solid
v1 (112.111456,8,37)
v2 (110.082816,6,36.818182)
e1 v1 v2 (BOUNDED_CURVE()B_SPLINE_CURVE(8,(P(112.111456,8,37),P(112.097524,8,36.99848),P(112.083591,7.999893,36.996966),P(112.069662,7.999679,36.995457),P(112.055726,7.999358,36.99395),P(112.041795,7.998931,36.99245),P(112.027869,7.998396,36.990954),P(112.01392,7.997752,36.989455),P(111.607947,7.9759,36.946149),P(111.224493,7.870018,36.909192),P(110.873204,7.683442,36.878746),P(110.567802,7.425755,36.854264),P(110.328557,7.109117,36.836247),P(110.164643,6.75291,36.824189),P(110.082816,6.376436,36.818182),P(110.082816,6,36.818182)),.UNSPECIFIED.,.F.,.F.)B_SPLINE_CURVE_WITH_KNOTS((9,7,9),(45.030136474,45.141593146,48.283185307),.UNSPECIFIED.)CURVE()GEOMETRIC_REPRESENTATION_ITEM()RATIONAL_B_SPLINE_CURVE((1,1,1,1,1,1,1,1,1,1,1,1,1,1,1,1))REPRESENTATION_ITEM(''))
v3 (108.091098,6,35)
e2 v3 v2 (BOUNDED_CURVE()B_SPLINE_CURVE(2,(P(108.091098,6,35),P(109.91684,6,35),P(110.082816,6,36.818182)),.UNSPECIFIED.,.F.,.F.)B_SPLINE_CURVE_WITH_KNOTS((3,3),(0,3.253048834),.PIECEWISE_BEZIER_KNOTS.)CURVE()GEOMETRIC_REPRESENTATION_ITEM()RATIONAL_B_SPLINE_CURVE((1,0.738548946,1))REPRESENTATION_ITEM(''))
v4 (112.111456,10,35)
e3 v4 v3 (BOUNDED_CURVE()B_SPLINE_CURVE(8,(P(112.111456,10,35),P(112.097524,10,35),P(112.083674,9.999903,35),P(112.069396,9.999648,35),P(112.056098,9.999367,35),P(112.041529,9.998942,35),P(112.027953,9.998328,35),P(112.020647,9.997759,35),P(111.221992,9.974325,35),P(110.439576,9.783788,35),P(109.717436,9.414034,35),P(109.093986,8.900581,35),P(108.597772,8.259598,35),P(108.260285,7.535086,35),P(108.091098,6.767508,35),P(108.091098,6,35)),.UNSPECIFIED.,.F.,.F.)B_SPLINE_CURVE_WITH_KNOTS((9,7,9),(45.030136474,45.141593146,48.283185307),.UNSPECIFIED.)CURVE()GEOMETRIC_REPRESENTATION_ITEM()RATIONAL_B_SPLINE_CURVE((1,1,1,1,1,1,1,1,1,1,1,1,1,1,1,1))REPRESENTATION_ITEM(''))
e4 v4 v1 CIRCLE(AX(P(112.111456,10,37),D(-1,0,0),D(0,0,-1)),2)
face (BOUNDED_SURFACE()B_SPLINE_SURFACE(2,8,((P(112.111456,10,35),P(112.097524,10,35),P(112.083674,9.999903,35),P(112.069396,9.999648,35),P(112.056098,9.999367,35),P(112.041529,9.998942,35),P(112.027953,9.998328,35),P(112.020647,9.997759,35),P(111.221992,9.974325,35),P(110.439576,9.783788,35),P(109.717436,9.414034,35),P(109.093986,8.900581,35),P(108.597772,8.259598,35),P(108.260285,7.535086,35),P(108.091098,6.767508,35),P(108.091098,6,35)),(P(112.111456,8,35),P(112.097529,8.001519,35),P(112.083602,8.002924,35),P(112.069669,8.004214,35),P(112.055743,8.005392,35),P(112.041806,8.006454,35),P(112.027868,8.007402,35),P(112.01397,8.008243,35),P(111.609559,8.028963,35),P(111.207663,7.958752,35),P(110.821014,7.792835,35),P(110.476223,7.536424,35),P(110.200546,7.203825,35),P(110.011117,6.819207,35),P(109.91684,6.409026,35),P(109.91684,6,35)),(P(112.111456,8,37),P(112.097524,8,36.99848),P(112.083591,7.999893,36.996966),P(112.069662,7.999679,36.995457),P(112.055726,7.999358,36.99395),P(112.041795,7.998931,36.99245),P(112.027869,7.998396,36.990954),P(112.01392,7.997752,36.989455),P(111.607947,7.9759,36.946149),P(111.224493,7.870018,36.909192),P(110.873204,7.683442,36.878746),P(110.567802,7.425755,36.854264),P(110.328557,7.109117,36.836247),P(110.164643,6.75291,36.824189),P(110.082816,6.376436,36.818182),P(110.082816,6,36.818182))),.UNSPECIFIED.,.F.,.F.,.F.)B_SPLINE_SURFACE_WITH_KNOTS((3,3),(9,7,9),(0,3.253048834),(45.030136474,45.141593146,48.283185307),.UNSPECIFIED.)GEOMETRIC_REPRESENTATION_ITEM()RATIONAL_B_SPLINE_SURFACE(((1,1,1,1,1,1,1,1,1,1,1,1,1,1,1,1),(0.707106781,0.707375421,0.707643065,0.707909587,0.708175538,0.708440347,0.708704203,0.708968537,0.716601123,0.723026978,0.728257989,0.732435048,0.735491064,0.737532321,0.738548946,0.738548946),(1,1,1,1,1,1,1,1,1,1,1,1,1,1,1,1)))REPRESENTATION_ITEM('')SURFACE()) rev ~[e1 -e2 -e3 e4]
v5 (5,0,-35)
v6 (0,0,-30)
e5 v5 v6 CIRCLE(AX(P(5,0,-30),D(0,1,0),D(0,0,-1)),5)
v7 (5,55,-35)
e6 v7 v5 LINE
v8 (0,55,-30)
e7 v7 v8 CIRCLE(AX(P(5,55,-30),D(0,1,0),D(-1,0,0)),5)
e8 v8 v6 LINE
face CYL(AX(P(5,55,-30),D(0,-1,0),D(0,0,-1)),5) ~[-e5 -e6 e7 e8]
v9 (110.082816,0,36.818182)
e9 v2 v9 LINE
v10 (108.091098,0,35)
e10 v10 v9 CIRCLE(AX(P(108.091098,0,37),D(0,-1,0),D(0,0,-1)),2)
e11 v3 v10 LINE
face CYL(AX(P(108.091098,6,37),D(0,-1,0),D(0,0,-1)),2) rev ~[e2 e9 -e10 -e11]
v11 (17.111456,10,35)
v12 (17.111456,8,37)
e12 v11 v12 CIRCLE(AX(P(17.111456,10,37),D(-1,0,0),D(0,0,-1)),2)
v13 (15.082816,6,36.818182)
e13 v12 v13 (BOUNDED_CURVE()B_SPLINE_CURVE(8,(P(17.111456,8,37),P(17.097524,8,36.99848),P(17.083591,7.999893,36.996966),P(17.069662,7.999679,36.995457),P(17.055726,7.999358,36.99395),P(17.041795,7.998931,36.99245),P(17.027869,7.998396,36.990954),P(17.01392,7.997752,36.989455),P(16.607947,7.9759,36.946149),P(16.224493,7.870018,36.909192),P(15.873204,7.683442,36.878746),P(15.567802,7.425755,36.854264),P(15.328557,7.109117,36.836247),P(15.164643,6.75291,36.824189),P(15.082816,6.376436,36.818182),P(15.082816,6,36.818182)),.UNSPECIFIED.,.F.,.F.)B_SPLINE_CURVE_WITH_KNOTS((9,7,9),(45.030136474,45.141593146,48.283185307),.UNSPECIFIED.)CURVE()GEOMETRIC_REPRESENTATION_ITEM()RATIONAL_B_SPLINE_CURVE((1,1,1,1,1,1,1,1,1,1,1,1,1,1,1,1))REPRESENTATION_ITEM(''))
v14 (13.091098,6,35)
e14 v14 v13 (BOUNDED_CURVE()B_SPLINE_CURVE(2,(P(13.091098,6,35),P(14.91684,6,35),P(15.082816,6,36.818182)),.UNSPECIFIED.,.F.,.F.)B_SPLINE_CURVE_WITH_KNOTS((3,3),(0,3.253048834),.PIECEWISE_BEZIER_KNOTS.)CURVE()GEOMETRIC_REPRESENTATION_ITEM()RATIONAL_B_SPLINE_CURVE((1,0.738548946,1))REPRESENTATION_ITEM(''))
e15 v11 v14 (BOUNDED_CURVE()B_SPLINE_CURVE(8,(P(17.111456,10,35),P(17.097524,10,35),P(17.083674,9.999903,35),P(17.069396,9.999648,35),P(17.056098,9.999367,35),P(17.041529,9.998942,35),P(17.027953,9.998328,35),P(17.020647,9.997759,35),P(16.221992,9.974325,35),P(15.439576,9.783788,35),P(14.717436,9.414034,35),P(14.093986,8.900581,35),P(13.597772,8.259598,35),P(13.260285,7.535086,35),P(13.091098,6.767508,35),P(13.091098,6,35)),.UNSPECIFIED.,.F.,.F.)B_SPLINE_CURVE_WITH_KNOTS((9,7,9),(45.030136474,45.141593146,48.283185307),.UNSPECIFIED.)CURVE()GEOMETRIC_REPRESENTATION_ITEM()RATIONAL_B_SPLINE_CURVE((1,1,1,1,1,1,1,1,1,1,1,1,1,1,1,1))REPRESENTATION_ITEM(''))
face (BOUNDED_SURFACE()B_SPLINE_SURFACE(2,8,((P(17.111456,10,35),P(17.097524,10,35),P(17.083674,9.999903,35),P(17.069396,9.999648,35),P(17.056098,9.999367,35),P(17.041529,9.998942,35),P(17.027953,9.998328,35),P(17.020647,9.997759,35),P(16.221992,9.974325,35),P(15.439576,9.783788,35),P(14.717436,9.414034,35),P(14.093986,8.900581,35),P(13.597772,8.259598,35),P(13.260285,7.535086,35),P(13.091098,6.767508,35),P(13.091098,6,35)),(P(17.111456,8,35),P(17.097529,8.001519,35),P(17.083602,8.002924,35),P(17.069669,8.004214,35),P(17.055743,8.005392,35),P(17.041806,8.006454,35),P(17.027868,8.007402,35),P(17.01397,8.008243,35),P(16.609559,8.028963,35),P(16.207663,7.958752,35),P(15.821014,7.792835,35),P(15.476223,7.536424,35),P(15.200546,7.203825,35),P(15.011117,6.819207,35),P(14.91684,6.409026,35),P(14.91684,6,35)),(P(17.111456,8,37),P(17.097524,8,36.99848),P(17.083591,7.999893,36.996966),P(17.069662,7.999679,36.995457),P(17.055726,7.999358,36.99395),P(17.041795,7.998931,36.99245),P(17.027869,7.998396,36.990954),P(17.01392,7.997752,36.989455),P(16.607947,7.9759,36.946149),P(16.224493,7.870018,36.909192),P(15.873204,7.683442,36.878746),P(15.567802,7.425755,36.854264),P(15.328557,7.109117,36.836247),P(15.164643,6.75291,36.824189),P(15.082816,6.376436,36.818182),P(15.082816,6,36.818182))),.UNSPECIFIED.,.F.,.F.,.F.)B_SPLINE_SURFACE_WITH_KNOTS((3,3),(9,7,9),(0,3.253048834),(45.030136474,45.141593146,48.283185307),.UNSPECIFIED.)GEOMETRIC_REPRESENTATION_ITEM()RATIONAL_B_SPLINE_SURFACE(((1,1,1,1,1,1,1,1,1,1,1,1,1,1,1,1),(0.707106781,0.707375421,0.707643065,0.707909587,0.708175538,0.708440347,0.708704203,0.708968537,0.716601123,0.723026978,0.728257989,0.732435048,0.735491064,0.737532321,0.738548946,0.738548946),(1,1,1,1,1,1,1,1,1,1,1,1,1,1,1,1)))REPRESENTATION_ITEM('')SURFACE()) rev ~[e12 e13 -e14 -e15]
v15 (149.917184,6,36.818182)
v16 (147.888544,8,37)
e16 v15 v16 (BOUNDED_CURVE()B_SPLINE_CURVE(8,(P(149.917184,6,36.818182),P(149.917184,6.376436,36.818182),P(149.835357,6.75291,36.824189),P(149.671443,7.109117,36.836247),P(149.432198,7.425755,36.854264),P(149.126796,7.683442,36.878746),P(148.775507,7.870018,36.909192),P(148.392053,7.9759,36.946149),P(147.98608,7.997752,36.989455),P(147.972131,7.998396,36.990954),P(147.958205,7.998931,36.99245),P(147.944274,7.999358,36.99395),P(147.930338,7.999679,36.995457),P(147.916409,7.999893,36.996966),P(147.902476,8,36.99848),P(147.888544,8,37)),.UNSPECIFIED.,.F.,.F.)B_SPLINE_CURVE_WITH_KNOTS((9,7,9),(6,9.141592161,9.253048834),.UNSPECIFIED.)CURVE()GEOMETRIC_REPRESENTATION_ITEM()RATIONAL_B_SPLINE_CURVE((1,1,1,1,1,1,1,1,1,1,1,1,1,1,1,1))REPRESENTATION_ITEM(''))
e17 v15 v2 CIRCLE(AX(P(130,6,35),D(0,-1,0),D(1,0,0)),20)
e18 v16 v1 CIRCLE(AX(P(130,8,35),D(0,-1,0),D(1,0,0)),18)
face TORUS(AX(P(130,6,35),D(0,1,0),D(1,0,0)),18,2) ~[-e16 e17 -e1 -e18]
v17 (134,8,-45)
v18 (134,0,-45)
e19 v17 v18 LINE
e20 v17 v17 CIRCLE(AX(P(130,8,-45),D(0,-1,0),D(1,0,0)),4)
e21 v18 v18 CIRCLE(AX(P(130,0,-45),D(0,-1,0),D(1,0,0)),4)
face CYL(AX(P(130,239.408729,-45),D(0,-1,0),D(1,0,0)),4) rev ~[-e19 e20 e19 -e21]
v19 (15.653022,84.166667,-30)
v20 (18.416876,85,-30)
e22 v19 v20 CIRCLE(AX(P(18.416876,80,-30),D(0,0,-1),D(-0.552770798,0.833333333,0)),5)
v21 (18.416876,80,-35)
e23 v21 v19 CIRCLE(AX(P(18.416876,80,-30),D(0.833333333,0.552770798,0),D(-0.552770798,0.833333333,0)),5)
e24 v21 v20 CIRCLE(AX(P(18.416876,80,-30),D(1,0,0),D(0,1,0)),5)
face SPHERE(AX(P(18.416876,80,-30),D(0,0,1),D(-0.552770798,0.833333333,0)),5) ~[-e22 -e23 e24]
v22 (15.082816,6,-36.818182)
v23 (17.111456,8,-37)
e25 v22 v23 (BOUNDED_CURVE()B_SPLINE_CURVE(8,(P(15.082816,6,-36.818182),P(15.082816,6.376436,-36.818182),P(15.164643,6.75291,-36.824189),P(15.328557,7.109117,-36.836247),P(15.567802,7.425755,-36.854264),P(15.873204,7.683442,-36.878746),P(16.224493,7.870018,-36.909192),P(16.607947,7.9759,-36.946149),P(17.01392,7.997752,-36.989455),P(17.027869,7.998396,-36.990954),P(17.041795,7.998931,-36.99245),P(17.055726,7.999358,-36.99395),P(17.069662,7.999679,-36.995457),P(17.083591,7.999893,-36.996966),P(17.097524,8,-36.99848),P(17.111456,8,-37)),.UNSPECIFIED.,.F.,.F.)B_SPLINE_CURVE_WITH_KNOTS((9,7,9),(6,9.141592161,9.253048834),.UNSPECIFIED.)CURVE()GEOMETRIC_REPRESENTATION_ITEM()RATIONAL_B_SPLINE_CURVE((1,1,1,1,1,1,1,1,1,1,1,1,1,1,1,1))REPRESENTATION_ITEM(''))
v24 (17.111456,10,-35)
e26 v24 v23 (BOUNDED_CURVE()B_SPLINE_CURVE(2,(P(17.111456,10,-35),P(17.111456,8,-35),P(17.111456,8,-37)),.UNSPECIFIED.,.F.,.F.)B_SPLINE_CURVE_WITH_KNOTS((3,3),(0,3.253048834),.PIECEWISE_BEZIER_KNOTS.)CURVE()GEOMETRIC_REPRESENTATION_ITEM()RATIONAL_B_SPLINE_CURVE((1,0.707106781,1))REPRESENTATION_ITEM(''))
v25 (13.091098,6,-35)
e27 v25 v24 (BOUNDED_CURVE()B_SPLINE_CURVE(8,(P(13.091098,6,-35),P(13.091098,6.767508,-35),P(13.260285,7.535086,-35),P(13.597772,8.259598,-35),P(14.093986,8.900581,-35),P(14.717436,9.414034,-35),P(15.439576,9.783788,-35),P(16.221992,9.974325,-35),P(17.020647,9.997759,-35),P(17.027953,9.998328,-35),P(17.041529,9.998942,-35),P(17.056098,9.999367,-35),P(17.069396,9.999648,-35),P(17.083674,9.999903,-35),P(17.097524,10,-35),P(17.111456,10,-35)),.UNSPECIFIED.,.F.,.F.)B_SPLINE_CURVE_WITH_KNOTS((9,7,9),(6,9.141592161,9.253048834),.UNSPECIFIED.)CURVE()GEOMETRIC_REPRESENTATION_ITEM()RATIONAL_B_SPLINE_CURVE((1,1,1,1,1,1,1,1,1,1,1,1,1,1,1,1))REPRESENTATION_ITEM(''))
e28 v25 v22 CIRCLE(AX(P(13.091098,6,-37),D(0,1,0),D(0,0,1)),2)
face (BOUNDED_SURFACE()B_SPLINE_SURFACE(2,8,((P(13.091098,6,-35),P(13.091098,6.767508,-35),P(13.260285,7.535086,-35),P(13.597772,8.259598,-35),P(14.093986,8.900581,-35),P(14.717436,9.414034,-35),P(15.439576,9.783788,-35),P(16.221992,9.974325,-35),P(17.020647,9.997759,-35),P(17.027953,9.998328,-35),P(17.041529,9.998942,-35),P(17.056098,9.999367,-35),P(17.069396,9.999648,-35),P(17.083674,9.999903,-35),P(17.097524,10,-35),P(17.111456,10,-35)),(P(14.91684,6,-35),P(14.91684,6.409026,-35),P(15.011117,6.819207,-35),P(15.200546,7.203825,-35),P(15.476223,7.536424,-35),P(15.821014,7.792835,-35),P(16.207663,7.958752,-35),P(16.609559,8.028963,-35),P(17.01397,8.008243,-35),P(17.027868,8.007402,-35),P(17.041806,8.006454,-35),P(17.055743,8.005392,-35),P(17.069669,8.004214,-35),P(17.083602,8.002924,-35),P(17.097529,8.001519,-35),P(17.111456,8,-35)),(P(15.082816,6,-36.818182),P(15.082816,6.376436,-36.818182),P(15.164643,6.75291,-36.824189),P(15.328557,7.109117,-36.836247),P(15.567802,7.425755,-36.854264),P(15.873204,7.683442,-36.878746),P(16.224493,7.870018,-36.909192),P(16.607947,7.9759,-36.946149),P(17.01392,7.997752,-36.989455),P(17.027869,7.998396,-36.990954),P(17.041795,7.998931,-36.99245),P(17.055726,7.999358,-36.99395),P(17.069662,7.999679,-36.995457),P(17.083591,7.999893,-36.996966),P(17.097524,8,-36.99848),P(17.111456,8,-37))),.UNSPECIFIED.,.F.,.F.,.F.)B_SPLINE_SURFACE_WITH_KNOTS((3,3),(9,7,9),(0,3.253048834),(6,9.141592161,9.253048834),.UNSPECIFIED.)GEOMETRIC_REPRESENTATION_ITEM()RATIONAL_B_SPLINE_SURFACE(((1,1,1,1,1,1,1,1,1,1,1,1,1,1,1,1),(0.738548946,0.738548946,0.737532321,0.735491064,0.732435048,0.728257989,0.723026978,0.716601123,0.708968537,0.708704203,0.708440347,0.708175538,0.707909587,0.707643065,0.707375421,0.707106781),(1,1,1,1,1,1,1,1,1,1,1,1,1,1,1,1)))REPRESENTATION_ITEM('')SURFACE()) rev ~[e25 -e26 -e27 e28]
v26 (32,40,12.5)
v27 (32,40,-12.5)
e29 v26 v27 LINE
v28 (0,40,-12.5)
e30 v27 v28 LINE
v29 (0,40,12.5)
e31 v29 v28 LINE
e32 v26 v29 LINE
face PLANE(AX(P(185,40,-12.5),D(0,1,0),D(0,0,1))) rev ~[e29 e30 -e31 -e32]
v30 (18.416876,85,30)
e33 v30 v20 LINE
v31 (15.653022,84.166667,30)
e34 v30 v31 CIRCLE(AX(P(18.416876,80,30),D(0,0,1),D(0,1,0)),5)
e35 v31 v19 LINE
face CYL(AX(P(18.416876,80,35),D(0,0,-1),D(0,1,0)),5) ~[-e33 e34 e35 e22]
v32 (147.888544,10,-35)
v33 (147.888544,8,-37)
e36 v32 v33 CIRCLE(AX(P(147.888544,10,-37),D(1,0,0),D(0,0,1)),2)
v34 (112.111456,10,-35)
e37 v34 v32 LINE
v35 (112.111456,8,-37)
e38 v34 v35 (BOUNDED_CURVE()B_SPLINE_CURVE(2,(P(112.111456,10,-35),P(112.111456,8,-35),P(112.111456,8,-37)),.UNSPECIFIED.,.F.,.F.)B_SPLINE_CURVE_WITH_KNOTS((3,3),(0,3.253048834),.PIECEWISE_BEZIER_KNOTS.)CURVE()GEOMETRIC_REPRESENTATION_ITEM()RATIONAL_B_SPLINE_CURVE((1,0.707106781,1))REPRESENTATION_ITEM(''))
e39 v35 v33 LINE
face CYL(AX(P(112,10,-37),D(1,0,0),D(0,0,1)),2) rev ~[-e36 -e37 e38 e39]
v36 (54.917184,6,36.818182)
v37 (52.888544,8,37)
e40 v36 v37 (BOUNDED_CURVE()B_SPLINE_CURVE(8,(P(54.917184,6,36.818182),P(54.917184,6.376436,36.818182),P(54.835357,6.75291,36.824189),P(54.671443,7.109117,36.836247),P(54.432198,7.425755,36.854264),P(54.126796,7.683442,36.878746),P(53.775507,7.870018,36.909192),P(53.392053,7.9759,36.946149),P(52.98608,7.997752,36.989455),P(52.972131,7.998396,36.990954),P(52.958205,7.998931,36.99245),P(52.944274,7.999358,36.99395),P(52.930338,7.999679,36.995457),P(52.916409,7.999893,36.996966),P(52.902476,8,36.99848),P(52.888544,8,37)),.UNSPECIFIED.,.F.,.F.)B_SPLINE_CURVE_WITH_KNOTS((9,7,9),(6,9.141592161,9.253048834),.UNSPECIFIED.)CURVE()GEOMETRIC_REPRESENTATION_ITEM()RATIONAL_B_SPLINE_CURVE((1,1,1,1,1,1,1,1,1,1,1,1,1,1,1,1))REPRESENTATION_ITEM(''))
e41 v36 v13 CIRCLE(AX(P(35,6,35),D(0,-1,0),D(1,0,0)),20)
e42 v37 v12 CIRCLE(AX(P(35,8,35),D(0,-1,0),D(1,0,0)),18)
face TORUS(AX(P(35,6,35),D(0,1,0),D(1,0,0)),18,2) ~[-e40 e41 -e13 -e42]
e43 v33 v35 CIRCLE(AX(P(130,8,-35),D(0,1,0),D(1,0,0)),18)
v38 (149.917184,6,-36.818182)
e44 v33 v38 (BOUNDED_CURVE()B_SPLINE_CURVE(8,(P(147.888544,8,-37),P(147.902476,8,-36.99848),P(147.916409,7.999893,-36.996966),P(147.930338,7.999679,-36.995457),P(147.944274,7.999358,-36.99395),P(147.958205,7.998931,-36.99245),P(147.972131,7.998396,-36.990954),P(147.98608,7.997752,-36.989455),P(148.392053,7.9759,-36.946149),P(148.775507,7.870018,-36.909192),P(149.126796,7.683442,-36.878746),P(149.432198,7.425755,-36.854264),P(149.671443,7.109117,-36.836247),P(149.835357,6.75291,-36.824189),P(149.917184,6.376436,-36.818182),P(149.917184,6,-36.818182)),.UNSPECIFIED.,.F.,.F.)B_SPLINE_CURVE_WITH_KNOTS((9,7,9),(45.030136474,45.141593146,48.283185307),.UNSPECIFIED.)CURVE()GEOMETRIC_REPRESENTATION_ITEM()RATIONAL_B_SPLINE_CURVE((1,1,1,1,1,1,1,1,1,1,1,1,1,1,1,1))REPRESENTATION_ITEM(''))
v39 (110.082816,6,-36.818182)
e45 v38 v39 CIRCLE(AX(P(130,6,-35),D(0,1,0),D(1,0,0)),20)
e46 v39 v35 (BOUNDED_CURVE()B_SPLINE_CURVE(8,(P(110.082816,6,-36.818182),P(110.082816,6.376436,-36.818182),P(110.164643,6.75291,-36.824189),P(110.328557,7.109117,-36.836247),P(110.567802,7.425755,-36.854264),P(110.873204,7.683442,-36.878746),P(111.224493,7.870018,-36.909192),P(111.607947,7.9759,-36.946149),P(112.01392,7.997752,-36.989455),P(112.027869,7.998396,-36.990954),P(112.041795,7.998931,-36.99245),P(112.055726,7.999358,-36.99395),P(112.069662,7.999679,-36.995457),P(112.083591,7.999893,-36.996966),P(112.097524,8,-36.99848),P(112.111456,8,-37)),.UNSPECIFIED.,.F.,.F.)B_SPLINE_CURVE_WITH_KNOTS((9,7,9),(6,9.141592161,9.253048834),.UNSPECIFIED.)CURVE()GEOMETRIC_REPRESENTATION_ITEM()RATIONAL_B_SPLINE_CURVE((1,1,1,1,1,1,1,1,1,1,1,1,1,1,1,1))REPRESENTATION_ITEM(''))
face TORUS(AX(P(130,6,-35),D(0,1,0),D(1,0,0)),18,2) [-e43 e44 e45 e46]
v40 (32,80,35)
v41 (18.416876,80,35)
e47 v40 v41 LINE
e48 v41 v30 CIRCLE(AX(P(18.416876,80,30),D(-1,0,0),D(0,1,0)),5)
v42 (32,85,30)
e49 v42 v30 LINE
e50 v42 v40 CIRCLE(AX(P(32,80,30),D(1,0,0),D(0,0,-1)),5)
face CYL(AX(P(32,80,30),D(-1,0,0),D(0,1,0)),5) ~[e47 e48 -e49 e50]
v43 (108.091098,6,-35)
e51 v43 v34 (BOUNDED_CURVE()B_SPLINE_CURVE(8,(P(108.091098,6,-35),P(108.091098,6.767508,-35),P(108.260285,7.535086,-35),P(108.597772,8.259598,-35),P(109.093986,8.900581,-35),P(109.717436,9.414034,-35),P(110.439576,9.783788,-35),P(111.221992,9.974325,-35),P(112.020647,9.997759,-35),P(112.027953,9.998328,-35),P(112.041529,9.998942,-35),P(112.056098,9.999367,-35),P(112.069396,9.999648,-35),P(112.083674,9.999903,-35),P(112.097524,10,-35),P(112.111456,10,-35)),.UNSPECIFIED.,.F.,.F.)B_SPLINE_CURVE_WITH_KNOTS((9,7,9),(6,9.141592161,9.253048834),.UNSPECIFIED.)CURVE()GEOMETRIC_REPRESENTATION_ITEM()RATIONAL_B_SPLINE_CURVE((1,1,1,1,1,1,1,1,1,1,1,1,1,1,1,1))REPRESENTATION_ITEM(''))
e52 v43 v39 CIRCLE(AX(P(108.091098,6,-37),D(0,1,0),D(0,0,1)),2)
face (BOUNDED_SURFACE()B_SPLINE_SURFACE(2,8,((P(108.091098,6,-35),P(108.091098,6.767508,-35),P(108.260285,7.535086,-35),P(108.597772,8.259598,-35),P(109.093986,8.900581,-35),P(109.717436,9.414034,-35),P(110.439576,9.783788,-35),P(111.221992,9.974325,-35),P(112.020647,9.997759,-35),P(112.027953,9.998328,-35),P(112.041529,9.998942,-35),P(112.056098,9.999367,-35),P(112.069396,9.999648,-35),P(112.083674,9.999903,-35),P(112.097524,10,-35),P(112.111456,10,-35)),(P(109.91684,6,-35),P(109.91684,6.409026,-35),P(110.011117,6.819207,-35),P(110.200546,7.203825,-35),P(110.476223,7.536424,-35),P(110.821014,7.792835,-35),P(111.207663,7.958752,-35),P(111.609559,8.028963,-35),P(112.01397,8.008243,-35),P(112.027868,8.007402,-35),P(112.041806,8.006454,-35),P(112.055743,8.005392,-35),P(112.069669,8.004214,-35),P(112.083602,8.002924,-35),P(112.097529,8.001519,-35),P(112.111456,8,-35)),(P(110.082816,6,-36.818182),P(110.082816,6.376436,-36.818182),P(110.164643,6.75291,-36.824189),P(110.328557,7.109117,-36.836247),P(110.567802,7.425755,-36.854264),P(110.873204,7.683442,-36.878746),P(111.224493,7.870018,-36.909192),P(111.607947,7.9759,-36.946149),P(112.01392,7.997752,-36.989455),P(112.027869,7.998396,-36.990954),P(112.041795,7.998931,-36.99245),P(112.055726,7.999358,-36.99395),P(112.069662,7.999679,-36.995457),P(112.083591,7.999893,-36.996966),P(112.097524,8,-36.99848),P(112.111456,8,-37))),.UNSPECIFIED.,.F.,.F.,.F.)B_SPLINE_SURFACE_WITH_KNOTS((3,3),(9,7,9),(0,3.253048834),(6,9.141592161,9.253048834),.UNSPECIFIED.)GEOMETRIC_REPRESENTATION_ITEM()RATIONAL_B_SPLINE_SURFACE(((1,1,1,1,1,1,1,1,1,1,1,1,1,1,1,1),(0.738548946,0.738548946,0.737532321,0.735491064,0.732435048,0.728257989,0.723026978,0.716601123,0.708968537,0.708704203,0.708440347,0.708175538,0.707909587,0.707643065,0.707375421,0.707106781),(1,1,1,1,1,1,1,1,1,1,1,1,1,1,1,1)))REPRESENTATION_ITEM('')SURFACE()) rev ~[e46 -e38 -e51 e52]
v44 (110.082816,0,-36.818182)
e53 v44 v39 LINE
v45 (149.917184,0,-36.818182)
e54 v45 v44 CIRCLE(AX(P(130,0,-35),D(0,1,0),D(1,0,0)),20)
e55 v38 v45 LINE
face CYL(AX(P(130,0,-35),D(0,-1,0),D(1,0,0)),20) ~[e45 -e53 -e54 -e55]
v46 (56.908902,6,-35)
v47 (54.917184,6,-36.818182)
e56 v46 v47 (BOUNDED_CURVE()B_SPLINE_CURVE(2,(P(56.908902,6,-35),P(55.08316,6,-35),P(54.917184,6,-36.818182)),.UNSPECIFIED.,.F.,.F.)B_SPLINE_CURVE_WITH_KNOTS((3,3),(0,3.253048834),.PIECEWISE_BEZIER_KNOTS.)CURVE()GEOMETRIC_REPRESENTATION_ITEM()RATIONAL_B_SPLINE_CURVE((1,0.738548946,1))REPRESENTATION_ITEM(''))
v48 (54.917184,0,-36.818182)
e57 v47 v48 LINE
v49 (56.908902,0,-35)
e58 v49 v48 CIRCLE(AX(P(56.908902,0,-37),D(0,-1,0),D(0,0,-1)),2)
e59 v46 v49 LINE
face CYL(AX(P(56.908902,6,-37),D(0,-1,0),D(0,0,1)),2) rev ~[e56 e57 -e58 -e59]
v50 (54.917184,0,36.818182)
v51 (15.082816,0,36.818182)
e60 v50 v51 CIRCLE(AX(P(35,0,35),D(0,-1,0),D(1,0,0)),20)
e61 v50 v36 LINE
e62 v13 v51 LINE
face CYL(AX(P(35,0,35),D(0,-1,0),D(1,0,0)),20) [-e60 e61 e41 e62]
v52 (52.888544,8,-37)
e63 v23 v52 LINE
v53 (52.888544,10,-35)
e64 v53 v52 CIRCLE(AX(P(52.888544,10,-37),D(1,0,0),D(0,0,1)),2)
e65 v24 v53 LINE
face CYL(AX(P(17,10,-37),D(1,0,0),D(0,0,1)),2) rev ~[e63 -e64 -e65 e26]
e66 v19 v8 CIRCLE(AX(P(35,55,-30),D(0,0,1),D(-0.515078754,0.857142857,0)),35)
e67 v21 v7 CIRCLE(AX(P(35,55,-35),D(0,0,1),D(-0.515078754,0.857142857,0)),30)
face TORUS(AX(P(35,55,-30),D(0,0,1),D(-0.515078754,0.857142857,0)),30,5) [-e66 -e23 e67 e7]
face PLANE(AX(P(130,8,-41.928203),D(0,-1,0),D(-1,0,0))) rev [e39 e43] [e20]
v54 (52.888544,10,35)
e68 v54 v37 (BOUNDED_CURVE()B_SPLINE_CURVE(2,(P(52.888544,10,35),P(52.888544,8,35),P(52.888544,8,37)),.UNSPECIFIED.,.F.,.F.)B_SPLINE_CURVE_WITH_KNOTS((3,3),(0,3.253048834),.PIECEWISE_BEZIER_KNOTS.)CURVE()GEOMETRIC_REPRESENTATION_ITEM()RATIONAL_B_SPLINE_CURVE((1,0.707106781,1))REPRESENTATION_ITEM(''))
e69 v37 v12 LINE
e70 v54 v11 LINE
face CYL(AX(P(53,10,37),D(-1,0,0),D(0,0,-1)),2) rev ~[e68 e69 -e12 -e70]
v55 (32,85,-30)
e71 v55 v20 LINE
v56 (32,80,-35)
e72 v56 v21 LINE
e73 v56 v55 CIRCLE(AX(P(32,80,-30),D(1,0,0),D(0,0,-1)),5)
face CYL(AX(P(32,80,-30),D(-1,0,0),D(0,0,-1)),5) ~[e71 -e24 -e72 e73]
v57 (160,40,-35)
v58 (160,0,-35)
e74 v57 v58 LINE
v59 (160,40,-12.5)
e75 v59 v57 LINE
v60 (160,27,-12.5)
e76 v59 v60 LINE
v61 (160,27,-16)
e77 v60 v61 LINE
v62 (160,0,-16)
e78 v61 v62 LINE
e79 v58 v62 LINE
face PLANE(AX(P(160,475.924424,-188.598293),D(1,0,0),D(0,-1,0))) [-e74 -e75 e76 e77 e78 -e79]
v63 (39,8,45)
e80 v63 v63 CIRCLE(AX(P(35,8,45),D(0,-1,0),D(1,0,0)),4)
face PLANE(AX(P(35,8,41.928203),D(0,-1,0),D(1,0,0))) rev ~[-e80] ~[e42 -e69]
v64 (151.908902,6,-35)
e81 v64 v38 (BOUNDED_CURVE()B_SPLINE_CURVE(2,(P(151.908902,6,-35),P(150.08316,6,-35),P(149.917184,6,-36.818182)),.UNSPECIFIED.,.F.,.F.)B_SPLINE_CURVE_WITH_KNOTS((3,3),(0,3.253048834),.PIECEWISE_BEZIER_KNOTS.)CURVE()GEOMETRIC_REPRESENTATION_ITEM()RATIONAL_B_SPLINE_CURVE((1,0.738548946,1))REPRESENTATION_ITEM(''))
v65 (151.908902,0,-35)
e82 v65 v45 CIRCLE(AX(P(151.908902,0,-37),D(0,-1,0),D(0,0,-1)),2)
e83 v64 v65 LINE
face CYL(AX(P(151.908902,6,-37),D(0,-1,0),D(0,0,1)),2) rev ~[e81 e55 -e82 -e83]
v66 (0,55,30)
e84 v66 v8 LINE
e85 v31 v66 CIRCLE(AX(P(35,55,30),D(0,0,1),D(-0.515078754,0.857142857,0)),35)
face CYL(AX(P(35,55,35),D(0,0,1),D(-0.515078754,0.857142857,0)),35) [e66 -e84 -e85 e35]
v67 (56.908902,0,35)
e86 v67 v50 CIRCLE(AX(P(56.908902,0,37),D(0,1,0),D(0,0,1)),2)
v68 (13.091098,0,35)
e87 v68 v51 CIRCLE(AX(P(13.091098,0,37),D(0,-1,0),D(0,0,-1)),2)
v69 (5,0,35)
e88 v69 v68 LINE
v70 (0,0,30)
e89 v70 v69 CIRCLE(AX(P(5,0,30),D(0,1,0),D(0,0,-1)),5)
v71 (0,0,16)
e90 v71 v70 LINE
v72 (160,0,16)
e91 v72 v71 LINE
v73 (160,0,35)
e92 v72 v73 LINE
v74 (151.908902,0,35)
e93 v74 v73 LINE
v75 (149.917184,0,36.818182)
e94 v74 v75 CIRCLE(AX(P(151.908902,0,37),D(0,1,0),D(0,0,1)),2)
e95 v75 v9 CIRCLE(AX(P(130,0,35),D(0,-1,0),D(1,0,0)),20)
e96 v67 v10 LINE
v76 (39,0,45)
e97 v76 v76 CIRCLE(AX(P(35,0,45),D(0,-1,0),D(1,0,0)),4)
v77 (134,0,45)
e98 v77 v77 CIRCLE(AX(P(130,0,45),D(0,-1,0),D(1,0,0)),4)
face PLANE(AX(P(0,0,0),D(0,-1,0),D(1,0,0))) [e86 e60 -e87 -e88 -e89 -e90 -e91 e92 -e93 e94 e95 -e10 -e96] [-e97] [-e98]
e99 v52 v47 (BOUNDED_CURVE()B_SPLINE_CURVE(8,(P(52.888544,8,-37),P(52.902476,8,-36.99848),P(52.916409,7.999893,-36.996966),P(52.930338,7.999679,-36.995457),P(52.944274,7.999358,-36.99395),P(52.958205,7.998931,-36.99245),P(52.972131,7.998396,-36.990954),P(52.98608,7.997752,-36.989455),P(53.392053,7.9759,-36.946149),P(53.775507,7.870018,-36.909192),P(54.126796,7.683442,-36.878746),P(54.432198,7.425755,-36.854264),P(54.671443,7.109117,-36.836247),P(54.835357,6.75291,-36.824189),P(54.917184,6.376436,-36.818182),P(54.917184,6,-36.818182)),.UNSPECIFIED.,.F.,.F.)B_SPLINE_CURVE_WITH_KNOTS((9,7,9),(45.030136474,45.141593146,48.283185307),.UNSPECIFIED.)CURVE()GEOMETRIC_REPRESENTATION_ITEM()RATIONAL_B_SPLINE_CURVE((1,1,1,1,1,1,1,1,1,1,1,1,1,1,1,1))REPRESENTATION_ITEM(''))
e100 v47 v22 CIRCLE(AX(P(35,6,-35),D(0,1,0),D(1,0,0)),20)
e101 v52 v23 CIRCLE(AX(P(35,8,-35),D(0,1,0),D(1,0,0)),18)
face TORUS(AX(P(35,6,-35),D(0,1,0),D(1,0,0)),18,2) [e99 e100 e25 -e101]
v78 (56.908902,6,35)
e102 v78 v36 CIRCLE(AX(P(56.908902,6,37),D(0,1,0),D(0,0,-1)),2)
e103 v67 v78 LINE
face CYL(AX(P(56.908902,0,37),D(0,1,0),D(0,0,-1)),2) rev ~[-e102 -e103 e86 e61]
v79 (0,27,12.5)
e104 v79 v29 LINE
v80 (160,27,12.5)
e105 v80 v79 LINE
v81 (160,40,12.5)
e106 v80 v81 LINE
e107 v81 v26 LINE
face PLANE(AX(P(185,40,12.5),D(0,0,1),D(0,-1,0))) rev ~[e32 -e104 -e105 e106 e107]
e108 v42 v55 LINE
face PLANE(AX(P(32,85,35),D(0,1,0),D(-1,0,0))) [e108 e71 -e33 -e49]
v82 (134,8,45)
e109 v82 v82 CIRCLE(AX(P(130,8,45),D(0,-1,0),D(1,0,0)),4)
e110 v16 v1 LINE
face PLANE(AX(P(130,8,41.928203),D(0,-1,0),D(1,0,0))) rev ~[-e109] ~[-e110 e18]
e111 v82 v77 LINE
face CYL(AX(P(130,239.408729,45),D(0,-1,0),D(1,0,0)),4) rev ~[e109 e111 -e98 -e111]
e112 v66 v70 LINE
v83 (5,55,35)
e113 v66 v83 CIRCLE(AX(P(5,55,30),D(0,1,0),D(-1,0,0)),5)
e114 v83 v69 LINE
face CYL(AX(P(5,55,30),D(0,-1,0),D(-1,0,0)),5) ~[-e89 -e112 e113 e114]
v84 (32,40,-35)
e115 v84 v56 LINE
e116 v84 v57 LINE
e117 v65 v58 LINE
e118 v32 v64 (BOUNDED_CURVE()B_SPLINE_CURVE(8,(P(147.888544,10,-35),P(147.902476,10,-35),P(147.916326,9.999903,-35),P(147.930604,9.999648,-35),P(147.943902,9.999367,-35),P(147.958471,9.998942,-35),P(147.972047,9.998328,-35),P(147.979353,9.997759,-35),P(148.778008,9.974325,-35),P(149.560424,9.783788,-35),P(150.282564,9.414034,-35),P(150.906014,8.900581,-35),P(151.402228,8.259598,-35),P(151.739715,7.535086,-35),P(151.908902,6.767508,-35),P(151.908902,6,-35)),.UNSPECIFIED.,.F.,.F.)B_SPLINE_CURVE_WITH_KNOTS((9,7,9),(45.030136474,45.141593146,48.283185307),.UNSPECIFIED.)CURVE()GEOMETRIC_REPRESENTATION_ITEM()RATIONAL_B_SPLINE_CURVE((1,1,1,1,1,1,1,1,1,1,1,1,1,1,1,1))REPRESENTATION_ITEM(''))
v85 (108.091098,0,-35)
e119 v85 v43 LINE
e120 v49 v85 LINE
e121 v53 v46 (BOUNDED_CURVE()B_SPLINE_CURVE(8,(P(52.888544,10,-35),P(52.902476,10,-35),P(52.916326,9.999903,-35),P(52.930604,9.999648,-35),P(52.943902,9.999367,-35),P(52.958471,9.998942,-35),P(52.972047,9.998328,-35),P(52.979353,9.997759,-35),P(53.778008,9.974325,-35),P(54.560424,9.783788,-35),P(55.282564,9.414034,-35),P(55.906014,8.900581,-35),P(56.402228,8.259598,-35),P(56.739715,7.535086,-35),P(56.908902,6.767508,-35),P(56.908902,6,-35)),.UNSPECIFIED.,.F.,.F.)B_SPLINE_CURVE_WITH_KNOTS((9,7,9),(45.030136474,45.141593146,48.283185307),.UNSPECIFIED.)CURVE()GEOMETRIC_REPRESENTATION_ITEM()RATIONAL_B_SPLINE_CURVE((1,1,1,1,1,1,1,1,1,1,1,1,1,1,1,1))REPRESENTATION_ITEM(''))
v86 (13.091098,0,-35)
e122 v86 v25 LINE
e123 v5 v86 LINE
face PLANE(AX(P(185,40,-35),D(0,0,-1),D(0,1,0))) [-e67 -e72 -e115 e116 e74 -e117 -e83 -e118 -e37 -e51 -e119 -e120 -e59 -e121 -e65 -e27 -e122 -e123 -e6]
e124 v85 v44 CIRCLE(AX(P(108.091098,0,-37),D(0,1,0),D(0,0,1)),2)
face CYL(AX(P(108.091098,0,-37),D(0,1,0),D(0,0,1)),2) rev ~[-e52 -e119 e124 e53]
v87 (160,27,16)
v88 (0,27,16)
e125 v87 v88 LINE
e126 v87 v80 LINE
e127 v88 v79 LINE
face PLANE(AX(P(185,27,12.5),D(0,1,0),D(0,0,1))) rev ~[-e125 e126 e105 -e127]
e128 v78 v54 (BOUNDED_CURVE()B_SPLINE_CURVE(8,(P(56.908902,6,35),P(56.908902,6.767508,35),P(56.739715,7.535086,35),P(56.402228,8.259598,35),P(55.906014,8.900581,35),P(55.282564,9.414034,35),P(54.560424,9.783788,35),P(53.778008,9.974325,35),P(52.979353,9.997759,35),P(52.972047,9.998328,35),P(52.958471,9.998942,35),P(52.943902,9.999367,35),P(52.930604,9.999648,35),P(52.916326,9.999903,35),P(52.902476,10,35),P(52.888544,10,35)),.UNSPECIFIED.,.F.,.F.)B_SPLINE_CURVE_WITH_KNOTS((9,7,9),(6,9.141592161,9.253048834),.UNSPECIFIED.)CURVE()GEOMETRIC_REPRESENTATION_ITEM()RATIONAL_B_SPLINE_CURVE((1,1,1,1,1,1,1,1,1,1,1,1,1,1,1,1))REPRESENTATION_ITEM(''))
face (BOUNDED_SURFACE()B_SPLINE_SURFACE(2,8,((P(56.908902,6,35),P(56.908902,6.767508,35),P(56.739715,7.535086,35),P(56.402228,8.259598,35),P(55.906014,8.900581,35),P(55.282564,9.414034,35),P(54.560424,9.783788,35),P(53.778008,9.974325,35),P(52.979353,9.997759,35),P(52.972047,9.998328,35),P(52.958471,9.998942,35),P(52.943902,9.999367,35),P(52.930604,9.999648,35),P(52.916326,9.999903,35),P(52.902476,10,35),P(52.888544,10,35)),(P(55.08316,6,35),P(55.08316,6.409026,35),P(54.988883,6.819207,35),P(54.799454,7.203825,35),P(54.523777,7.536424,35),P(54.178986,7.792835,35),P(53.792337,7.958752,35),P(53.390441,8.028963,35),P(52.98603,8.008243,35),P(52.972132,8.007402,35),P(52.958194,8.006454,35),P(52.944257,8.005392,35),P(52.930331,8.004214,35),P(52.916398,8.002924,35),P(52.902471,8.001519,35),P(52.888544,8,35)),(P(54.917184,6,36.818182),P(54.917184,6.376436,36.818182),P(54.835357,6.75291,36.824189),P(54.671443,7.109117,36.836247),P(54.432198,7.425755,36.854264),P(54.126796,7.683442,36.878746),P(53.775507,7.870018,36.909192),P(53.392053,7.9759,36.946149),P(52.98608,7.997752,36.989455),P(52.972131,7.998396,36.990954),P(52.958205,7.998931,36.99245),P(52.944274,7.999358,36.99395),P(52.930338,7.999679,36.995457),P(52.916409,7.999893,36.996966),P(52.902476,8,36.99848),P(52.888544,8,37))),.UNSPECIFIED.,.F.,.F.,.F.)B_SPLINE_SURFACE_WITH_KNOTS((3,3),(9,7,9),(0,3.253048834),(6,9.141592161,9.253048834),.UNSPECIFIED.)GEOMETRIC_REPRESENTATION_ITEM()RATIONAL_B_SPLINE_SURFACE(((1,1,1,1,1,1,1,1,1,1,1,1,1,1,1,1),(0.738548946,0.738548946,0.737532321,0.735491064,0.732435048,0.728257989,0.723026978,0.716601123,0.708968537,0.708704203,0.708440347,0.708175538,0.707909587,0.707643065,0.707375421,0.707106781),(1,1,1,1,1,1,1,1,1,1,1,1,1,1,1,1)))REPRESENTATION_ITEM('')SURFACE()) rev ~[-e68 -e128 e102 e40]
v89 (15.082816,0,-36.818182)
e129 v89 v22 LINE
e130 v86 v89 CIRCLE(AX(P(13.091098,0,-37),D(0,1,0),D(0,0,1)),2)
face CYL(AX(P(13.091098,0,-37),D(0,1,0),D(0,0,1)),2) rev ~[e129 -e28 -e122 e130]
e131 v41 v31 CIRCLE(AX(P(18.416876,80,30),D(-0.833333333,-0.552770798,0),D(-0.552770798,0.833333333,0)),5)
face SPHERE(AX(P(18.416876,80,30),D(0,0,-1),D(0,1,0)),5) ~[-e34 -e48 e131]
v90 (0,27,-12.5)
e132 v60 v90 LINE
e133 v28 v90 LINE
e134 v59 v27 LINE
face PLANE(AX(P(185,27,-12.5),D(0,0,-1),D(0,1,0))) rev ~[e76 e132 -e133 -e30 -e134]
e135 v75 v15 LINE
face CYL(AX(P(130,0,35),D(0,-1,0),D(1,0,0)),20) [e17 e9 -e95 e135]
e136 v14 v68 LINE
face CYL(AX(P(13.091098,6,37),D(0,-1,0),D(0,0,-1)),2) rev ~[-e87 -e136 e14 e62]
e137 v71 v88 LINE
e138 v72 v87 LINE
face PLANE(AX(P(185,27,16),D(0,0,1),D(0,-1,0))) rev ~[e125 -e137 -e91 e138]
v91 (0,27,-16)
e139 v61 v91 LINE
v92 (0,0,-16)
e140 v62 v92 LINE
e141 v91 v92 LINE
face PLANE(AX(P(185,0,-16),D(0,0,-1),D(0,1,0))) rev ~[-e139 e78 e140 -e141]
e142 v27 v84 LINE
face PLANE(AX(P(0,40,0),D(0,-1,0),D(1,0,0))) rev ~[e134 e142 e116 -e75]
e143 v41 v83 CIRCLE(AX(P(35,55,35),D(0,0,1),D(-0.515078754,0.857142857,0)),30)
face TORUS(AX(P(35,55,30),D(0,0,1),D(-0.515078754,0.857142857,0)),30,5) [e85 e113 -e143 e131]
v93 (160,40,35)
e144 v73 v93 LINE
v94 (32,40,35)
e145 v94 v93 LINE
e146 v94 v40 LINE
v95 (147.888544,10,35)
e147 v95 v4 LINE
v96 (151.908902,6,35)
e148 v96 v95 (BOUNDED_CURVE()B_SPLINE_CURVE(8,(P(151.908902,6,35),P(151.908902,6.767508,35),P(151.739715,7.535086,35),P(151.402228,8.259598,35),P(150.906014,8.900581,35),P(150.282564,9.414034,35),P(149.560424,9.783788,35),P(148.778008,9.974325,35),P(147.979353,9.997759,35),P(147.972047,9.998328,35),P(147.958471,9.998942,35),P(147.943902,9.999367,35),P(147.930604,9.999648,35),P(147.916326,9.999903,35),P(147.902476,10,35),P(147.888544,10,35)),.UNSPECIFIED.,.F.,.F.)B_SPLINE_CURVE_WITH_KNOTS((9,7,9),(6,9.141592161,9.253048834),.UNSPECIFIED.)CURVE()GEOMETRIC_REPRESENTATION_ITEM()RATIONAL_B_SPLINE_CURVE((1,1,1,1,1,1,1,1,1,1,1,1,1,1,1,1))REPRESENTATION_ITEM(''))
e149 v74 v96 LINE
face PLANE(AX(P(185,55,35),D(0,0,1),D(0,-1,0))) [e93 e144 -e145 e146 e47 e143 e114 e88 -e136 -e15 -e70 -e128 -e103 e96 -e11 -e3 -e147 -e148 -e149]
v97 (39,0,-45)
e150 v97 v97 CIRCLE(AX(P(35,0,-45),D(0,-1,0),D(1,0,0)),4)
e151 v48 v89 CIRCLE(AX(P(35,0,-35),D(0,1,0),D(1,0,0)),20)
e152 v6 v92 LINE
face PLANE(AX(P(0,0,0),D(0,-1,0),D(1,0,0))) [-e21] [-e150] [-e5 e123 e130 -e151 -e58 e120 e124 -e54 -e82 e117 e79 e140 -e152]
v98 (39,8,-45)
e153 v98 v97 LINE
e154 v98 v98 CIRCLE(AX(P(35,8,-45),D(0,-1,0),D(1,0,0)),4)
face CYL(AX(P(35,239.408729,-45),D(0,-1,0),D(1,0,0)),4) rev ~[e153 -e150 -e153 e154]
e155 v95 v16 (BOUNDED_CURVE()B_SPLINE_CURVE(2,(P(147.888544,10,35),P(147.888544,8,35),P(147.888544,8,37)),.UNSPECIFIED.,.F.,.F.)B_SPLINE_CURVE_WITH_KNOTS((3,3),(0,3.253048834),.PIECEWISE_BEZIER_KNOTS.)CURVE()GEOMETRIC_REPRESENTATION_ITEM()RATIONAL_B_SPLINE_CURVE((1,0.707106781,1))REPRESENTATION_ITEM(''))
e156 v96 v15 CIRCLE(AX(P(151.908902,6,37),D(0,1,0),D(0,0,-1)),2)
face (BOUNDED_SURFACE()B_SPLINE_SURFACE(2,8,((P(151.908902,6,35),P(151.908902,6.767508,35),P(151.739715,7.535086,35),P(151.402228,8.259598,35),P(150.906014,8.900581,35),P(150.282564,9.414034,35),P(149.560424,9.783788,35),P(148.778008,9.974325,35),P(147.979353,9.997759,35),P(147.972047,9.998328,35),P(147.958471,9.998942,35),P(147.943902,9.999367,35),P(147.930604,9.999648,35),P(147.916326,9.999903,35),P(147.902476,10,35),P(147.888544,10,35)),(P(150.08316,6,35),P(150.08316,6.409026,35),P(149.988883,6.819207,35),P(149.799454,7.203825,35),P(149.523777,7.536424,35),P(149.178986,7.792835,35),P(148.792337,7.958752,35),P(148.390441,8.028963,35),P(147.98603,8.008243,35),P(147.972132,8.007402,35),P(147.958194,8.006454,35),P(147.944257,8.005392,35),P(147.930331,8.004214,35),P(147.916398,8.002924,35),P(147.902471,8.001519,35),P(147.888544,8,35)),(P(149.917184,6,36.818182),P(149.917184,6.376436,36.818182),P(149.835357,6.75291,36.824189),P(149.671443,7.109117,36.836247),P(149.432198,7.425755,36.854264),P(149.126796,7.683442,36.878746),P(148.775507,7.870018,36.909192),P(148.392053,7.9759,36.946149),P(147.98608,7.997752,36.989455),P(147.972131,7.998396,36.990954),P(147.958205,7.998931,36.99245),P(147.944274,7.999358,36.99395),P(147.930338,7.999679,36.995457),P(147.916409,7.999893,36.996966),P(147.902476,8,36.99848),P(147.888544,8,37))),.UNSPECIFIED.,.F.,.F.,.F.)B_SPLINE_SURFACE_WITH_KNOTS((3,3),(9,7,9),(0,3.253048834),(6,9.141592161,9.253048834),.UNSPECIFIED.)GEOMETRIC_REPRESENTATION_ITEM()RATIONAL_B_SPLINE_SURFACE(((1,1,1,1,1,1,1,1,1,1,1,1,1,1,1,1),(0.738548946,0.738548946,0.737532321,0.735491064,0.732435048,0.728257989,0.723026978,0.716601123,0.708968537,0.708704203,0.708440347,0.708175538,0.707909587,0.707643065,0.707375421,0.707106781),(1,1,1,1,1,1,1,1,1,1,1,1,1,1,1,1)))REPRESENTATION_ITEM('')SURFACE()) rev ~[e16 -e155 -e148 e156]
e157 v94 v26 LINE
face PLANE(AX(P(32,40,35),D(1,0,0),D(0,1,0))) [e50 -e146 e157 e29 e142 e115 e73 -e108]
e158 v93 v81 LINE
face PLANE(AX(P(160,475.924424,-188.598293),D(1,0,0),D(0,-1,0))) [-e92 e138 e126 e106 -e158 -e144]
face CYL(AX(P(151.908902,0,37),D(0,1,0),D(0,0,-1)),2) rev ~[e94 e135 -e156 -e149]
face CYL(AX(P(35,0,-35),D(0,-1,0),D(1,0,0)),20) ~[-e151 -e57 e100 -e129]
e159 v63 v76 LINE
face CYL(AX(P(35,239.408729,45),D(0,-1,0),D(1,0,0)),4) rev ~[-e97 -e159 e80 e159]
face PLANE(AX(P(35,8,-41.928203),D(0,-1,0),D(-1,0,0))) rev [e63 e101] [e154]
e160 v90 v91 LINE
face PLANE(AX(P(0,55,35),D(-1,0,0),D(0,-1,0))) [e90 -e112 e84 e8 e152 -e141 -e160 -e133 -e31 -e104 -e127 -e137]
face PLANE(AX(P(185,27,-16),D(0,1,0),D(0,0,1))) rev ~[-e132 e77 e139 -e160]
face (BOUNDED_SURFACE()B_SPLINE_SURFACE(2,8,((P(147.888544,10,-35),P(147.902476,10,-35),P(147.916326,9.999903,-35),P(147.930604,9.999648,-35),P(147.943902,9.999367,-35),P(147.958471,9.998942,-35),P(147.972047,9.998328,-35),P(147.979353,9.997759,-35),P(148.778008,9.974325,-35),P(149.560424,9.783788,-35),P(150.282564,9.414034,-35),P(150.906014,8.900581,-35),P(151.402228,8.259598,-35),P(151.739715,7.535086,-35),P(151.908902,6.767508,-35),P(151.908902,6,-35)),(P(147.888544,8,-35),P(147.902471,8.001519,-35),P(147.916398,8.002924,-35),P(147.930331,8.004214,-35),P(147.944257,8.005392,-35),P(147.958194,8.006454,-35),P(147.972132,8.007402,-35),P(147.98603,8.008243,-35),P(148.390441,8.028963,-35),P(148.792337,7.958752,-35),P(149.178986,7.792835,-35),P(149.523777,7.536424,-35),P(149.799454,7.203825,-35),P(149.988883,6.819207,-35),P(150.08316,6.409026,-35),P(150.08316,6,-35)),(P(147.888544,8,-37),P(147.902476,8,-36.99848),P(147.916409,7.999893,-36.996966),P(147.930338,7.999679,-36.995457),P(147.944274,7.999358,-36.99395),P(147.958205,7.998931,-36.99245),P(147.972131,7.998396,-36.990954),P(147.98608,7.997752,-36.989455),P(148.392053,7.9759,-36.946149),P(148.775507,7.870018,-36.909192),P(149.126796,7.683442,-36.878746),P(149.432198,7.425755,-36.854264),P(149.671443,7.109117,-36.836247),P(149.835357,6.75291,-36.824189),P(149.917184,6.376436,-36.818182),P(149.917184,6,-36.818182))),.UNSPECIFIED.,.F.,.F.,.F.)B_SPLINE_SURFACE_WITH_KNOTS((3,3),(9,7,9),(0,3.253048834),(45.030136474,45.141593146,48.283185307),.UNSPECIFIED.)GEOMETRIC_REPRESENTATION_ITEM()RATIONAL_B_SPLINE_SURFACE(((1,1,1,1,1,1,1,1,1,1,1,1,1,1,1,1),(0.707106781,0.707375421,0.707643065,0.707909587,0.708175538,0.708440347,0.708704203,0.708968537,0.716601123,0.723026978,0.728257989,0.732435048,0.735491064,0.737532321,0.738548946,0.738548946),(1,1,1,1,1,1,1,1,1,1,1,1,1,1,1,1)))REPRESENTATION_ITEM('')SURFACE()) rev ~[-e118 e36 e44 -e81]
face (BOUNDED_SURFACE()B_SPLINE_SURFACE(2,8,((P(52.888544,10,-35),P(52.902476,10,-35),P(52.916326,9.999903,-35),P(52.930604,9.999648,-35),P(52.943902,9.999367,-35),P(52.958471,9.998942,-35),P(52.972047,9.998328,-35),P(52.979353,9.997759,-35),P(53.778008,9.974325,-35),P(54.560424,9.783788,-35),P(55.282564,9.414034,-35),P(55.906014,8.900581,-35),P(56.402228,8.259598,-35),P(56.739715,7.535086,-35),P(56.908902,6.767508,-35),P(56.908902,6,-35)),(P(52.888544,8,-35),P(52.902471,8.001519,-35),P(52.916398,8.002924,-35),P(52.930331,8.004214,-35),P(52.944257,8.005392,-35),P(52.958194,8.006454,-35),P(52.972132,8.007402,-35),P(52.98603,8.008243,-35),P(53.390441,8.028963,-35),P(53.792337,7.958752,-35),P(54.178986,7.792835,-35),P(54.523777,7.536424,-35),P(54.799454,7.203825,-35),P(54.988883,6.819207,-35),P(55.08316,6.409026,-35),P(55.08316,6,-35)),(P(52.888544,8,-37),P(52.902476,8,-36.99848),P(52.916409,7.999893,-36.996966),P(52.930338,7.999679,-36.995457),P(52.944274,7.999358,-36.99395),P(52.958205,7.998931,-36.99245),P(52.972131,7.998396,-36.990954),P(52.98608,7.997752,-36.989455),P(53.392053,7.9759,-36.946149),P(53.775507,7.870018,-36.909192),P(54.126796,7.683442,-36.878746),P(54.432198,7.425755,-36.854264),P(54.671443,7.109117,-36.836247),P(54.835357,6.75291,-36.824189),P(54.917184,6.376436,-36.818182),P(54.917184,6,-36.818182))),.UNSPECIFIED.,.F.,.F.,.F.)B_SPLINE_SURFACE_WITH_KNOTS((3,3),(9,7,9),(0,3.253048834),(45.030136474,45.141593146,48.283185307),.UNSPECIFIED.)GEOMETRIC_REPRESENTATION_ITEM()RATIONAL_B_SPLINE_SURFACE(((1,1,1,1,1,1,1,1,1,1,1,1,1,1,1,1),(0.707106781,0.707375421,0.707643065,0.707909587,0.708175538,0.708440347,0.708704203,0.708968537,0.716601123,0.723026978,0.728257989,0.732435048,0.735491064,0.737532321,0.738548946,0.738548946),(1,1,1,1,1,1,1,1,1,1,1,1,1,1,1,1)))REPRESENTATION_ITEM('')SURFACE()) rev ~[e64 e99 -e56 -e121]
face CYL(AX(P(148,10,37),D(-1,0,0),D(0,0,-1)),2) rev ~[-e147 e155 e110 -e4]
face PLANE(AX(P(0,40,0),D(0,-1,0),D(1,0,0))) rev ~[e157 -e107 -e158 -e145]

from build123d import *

# Parameters (mm, degrees)
SKETCH1_W                      = 185
SKETCH1_H                      = 40
EXTRUDE1_DEPTH                 = 35
EXTRUDE2_DEPTH                 = 70
EXTRUDE3_DEPTH                 = 25
CUT_EXTRUDE1_DEPTH             = 207.579282601
EXTRUDE4_DEPTH                 = 8
EXTRUDE5_DEPTH                 = 8
F_8_0_8_DIAMETER_HOLE1_D       = 8
F_14_0_14_DIAMETER_HOLE1_D     = 14
F_14_0_14_DIAMETER_HOLE1_DEPTH = 25
FILLET1_R                      = 2
FILLET2_R                      = 2
FILLET3_R                      = 2
FILLET10_R                     = 5
CUT_EXTRUDE2_DEPTH             = 223.598292936
CUT_EXTRUDE2_DEPTH_BACK        = 223.598292936


with BuildPart() as part:
    # Sketch1 → Extrude1 (new, symmetric)
    with BuildSketch(Plane.XY):
        with Locations((92.5, 20)):
            Rectangle(SKETCH1_W, SKETCH1_H)
    extrude(amount=EXTRUDE1_DEPTH, both=True)

    # Sketch2 → Extrude2 (add)
    with BuildSketch(Plane.XY.offset(35)):
        with BuildLine():
            Line((0, 40), (32, 40))
            Line((32, 40), (32, 85))
            Line((32, 85), (16.972243623, 85))
            ThreePointArc((16.972243623, 85), (4.537141687, 72.234101758), (0, 55))
            Line((0, 55), (0, 40))
        make_face()
    extrude(amount=-EXTRUDE2_DEPTH)

    # Sketch3 → Extrude3 (add)
    with BuildSketch(Plane(origin=(185, 0, 0), x_dir=(0, 0, -1), z_dir=(1, 0, 0))):
        with BuildLine():
            Line((-35, 40), (35, 40))
            Line((35, 40), (35, 55))
            Line((35, 55), (17, 55))
            ThreePointArc((17, 55), (0, 72), (-17, 55))
            Line((-17, 55), (-35, 55))
            Line((-35, 55), (-35, 40))
        make_face()
    extrude(amount=-EXTRUDE3_DEPTH)

    # Sketch4 → Cut-Extrude1 (cut, through all)
    with BuildSketch(Plane(origin=(185, 0, 0), x_dir=(0, 0, -1), z_dir=(1, 0, 0))):
        Polygon((-16, 0), (16, 0), (16, 27), (12.5, 27), (12.5, 40), (-12.5, 40), (-12.5, 27), (-16, 27), align=None)
    extrude(amount=-CUT_EXTRUDE1_DEPTH, mode=Mode.SUBTRACT)

    # Sketch5 → Extrude4 (add)
    with BuildSketch(Plane.XZ):
        with BuildLine():
            Line((15, 35), (55, 35))
            ThreePointArc((55, 35), (35, 55), (15, 35))
        make_face()
    extrude4 = extrude(amount=-EXTRUDE4_DEPTH)

    # Sketch6 → Extrude5 (add)
    with BuildSketch(Plane.XZ):
        with BuildLine():
            Line((110, 35), (150, 35))
            ThreePointArc((150, 35), (130, 55), (110, 35))
        make_face()
    extrude5 = extrude(amount=-EXTRUDE5_DEPTH)

    # Mirror1: Extrude4, Extrude5 across plane
    add(extrude4.mirror(Plane.XY))
    add(extrude5.mirror(Plane.XY))

    # Ø8.0 (8) Diameter Hole1 (through all)
    with Locations(Plane(origin=(0, 8, 0), x_dir=(-1, 0, 0), z_dir=(0, 1, 0))):
        with Locations((-35, 45), (-130, 45), (-35, -45), (-130, -45)):
            Hole(F_8_0_8_DIAMETER_HOLE1_D / 2)

    # Ø14.0 (14) Diameter Hole1
    with Locations(Plane(origin=(185, 0, 0), x_dir=(0, 0, -1), z_dir=(1, 0, 0))):
        with Locations((0, 55)):
            Hole(F_14_0_14_DIAMETER_HOLE1_D / 2, depth=F_14_0_14_DIAMETER_HOLE1_DEPTH)

    # Fillet1
    fillet1_edges = [part.edges().sort_by_distance(p)[0] for p in [
        (35, 8, -55),
        (130, 8, -55),
        (35, 8, 55),
        (130, 8, 55),
    ]]
    fillet(fillet1_edges, radius=FILLET1_R)

    # Fillet2
    fillet2_edges = [part.edges().sort_by_distance(p)[0] for p in [
        (130, 8, -35),
        (150, 3, -35),
        (110, 3, -35),
        (35, 8, -35),
        (15, 3, -35),
        (55, 3, -35),
        (150, 3, 35),
        (110, 3, 35),
        (130, 8, 35),
        (55, 3, 35),
        (15, 3, 35),
        (35, 8, 35),
        (110.585786438, 7.414213562, -35),
        (149.414213562, 7.414213562, -35),
        (15.585786438, 7.414213562, -35),
        (54.414213562, 7.414213562, -35),
        (110.585786438, 7.414213562, 35),
        (149.414213562, 7.414213562, 35),
        (15.585786438, 7.414213562, 35),
        (54.414213562, 7.414213562, 35),
        (172.5, 55, 35),
        (172.5, 55, 17),
        (172.5, 55, -17),
        (172.5, 55, -35),
    ]]
    fillet(fillet2_edges, radius=FILLET2_R)

    # Fillet3
    fillet3_edges = [part.edges().sort_by_distance(p)[0] for p in [
        (185, 26.5, 35),
        (185, 55, 25.947221814),
        (185, 55, -25.947221814),
        (185, 72, 0),
        (185, 54.414213562, -34.414213562),
        (185, 54.414213562, 34.414213562),
        (185, 55.513216117, -17.55673152),
        (185, 55.513216117, 17.55673152),
        (185, 26.5, -35),
    ]]
    fillet(fillet3_edges, radius=FILLET3_R)

    # Fillet10
    fillet10_edges = [part.edges().sort_by_distance(p)[0] for p in [
        (4.537141687, 72.234101758, -35),
        (24.486121811, 85, -35),
        (16.972243623, 85, 0),
        (24.486121811, 85, 35),
        (4.537141687, 72.234101758, 35),
        (0, 27.5, 35),
        (0, 27.5, -35),
    ]]
    fillet(fillet10_edges, radius=FILLET10_R)

    # Sketch12 → Cut-Extrude2 (cut, two sides: drawn at the far end of the back side and taken through both)
    with BuildSketch(Plane.XY.offset(35).offset(-CUT_EXTRUDE2_DEPTH_BACK)):
        Polygon((160, 475.924423606), (160, 86.777149485), (160, -16.676761693), (160, -405.824035814), (938.294548242, -405.824035814), (938.294548242, 475.924423606), align=None)
    extrude(amount=CUT_EXTRUDE2_DEPTH + CUT_EXTRUDE2_DEPTH_BACK, mode=Mode.SUBTRACT)


solid = part.part
